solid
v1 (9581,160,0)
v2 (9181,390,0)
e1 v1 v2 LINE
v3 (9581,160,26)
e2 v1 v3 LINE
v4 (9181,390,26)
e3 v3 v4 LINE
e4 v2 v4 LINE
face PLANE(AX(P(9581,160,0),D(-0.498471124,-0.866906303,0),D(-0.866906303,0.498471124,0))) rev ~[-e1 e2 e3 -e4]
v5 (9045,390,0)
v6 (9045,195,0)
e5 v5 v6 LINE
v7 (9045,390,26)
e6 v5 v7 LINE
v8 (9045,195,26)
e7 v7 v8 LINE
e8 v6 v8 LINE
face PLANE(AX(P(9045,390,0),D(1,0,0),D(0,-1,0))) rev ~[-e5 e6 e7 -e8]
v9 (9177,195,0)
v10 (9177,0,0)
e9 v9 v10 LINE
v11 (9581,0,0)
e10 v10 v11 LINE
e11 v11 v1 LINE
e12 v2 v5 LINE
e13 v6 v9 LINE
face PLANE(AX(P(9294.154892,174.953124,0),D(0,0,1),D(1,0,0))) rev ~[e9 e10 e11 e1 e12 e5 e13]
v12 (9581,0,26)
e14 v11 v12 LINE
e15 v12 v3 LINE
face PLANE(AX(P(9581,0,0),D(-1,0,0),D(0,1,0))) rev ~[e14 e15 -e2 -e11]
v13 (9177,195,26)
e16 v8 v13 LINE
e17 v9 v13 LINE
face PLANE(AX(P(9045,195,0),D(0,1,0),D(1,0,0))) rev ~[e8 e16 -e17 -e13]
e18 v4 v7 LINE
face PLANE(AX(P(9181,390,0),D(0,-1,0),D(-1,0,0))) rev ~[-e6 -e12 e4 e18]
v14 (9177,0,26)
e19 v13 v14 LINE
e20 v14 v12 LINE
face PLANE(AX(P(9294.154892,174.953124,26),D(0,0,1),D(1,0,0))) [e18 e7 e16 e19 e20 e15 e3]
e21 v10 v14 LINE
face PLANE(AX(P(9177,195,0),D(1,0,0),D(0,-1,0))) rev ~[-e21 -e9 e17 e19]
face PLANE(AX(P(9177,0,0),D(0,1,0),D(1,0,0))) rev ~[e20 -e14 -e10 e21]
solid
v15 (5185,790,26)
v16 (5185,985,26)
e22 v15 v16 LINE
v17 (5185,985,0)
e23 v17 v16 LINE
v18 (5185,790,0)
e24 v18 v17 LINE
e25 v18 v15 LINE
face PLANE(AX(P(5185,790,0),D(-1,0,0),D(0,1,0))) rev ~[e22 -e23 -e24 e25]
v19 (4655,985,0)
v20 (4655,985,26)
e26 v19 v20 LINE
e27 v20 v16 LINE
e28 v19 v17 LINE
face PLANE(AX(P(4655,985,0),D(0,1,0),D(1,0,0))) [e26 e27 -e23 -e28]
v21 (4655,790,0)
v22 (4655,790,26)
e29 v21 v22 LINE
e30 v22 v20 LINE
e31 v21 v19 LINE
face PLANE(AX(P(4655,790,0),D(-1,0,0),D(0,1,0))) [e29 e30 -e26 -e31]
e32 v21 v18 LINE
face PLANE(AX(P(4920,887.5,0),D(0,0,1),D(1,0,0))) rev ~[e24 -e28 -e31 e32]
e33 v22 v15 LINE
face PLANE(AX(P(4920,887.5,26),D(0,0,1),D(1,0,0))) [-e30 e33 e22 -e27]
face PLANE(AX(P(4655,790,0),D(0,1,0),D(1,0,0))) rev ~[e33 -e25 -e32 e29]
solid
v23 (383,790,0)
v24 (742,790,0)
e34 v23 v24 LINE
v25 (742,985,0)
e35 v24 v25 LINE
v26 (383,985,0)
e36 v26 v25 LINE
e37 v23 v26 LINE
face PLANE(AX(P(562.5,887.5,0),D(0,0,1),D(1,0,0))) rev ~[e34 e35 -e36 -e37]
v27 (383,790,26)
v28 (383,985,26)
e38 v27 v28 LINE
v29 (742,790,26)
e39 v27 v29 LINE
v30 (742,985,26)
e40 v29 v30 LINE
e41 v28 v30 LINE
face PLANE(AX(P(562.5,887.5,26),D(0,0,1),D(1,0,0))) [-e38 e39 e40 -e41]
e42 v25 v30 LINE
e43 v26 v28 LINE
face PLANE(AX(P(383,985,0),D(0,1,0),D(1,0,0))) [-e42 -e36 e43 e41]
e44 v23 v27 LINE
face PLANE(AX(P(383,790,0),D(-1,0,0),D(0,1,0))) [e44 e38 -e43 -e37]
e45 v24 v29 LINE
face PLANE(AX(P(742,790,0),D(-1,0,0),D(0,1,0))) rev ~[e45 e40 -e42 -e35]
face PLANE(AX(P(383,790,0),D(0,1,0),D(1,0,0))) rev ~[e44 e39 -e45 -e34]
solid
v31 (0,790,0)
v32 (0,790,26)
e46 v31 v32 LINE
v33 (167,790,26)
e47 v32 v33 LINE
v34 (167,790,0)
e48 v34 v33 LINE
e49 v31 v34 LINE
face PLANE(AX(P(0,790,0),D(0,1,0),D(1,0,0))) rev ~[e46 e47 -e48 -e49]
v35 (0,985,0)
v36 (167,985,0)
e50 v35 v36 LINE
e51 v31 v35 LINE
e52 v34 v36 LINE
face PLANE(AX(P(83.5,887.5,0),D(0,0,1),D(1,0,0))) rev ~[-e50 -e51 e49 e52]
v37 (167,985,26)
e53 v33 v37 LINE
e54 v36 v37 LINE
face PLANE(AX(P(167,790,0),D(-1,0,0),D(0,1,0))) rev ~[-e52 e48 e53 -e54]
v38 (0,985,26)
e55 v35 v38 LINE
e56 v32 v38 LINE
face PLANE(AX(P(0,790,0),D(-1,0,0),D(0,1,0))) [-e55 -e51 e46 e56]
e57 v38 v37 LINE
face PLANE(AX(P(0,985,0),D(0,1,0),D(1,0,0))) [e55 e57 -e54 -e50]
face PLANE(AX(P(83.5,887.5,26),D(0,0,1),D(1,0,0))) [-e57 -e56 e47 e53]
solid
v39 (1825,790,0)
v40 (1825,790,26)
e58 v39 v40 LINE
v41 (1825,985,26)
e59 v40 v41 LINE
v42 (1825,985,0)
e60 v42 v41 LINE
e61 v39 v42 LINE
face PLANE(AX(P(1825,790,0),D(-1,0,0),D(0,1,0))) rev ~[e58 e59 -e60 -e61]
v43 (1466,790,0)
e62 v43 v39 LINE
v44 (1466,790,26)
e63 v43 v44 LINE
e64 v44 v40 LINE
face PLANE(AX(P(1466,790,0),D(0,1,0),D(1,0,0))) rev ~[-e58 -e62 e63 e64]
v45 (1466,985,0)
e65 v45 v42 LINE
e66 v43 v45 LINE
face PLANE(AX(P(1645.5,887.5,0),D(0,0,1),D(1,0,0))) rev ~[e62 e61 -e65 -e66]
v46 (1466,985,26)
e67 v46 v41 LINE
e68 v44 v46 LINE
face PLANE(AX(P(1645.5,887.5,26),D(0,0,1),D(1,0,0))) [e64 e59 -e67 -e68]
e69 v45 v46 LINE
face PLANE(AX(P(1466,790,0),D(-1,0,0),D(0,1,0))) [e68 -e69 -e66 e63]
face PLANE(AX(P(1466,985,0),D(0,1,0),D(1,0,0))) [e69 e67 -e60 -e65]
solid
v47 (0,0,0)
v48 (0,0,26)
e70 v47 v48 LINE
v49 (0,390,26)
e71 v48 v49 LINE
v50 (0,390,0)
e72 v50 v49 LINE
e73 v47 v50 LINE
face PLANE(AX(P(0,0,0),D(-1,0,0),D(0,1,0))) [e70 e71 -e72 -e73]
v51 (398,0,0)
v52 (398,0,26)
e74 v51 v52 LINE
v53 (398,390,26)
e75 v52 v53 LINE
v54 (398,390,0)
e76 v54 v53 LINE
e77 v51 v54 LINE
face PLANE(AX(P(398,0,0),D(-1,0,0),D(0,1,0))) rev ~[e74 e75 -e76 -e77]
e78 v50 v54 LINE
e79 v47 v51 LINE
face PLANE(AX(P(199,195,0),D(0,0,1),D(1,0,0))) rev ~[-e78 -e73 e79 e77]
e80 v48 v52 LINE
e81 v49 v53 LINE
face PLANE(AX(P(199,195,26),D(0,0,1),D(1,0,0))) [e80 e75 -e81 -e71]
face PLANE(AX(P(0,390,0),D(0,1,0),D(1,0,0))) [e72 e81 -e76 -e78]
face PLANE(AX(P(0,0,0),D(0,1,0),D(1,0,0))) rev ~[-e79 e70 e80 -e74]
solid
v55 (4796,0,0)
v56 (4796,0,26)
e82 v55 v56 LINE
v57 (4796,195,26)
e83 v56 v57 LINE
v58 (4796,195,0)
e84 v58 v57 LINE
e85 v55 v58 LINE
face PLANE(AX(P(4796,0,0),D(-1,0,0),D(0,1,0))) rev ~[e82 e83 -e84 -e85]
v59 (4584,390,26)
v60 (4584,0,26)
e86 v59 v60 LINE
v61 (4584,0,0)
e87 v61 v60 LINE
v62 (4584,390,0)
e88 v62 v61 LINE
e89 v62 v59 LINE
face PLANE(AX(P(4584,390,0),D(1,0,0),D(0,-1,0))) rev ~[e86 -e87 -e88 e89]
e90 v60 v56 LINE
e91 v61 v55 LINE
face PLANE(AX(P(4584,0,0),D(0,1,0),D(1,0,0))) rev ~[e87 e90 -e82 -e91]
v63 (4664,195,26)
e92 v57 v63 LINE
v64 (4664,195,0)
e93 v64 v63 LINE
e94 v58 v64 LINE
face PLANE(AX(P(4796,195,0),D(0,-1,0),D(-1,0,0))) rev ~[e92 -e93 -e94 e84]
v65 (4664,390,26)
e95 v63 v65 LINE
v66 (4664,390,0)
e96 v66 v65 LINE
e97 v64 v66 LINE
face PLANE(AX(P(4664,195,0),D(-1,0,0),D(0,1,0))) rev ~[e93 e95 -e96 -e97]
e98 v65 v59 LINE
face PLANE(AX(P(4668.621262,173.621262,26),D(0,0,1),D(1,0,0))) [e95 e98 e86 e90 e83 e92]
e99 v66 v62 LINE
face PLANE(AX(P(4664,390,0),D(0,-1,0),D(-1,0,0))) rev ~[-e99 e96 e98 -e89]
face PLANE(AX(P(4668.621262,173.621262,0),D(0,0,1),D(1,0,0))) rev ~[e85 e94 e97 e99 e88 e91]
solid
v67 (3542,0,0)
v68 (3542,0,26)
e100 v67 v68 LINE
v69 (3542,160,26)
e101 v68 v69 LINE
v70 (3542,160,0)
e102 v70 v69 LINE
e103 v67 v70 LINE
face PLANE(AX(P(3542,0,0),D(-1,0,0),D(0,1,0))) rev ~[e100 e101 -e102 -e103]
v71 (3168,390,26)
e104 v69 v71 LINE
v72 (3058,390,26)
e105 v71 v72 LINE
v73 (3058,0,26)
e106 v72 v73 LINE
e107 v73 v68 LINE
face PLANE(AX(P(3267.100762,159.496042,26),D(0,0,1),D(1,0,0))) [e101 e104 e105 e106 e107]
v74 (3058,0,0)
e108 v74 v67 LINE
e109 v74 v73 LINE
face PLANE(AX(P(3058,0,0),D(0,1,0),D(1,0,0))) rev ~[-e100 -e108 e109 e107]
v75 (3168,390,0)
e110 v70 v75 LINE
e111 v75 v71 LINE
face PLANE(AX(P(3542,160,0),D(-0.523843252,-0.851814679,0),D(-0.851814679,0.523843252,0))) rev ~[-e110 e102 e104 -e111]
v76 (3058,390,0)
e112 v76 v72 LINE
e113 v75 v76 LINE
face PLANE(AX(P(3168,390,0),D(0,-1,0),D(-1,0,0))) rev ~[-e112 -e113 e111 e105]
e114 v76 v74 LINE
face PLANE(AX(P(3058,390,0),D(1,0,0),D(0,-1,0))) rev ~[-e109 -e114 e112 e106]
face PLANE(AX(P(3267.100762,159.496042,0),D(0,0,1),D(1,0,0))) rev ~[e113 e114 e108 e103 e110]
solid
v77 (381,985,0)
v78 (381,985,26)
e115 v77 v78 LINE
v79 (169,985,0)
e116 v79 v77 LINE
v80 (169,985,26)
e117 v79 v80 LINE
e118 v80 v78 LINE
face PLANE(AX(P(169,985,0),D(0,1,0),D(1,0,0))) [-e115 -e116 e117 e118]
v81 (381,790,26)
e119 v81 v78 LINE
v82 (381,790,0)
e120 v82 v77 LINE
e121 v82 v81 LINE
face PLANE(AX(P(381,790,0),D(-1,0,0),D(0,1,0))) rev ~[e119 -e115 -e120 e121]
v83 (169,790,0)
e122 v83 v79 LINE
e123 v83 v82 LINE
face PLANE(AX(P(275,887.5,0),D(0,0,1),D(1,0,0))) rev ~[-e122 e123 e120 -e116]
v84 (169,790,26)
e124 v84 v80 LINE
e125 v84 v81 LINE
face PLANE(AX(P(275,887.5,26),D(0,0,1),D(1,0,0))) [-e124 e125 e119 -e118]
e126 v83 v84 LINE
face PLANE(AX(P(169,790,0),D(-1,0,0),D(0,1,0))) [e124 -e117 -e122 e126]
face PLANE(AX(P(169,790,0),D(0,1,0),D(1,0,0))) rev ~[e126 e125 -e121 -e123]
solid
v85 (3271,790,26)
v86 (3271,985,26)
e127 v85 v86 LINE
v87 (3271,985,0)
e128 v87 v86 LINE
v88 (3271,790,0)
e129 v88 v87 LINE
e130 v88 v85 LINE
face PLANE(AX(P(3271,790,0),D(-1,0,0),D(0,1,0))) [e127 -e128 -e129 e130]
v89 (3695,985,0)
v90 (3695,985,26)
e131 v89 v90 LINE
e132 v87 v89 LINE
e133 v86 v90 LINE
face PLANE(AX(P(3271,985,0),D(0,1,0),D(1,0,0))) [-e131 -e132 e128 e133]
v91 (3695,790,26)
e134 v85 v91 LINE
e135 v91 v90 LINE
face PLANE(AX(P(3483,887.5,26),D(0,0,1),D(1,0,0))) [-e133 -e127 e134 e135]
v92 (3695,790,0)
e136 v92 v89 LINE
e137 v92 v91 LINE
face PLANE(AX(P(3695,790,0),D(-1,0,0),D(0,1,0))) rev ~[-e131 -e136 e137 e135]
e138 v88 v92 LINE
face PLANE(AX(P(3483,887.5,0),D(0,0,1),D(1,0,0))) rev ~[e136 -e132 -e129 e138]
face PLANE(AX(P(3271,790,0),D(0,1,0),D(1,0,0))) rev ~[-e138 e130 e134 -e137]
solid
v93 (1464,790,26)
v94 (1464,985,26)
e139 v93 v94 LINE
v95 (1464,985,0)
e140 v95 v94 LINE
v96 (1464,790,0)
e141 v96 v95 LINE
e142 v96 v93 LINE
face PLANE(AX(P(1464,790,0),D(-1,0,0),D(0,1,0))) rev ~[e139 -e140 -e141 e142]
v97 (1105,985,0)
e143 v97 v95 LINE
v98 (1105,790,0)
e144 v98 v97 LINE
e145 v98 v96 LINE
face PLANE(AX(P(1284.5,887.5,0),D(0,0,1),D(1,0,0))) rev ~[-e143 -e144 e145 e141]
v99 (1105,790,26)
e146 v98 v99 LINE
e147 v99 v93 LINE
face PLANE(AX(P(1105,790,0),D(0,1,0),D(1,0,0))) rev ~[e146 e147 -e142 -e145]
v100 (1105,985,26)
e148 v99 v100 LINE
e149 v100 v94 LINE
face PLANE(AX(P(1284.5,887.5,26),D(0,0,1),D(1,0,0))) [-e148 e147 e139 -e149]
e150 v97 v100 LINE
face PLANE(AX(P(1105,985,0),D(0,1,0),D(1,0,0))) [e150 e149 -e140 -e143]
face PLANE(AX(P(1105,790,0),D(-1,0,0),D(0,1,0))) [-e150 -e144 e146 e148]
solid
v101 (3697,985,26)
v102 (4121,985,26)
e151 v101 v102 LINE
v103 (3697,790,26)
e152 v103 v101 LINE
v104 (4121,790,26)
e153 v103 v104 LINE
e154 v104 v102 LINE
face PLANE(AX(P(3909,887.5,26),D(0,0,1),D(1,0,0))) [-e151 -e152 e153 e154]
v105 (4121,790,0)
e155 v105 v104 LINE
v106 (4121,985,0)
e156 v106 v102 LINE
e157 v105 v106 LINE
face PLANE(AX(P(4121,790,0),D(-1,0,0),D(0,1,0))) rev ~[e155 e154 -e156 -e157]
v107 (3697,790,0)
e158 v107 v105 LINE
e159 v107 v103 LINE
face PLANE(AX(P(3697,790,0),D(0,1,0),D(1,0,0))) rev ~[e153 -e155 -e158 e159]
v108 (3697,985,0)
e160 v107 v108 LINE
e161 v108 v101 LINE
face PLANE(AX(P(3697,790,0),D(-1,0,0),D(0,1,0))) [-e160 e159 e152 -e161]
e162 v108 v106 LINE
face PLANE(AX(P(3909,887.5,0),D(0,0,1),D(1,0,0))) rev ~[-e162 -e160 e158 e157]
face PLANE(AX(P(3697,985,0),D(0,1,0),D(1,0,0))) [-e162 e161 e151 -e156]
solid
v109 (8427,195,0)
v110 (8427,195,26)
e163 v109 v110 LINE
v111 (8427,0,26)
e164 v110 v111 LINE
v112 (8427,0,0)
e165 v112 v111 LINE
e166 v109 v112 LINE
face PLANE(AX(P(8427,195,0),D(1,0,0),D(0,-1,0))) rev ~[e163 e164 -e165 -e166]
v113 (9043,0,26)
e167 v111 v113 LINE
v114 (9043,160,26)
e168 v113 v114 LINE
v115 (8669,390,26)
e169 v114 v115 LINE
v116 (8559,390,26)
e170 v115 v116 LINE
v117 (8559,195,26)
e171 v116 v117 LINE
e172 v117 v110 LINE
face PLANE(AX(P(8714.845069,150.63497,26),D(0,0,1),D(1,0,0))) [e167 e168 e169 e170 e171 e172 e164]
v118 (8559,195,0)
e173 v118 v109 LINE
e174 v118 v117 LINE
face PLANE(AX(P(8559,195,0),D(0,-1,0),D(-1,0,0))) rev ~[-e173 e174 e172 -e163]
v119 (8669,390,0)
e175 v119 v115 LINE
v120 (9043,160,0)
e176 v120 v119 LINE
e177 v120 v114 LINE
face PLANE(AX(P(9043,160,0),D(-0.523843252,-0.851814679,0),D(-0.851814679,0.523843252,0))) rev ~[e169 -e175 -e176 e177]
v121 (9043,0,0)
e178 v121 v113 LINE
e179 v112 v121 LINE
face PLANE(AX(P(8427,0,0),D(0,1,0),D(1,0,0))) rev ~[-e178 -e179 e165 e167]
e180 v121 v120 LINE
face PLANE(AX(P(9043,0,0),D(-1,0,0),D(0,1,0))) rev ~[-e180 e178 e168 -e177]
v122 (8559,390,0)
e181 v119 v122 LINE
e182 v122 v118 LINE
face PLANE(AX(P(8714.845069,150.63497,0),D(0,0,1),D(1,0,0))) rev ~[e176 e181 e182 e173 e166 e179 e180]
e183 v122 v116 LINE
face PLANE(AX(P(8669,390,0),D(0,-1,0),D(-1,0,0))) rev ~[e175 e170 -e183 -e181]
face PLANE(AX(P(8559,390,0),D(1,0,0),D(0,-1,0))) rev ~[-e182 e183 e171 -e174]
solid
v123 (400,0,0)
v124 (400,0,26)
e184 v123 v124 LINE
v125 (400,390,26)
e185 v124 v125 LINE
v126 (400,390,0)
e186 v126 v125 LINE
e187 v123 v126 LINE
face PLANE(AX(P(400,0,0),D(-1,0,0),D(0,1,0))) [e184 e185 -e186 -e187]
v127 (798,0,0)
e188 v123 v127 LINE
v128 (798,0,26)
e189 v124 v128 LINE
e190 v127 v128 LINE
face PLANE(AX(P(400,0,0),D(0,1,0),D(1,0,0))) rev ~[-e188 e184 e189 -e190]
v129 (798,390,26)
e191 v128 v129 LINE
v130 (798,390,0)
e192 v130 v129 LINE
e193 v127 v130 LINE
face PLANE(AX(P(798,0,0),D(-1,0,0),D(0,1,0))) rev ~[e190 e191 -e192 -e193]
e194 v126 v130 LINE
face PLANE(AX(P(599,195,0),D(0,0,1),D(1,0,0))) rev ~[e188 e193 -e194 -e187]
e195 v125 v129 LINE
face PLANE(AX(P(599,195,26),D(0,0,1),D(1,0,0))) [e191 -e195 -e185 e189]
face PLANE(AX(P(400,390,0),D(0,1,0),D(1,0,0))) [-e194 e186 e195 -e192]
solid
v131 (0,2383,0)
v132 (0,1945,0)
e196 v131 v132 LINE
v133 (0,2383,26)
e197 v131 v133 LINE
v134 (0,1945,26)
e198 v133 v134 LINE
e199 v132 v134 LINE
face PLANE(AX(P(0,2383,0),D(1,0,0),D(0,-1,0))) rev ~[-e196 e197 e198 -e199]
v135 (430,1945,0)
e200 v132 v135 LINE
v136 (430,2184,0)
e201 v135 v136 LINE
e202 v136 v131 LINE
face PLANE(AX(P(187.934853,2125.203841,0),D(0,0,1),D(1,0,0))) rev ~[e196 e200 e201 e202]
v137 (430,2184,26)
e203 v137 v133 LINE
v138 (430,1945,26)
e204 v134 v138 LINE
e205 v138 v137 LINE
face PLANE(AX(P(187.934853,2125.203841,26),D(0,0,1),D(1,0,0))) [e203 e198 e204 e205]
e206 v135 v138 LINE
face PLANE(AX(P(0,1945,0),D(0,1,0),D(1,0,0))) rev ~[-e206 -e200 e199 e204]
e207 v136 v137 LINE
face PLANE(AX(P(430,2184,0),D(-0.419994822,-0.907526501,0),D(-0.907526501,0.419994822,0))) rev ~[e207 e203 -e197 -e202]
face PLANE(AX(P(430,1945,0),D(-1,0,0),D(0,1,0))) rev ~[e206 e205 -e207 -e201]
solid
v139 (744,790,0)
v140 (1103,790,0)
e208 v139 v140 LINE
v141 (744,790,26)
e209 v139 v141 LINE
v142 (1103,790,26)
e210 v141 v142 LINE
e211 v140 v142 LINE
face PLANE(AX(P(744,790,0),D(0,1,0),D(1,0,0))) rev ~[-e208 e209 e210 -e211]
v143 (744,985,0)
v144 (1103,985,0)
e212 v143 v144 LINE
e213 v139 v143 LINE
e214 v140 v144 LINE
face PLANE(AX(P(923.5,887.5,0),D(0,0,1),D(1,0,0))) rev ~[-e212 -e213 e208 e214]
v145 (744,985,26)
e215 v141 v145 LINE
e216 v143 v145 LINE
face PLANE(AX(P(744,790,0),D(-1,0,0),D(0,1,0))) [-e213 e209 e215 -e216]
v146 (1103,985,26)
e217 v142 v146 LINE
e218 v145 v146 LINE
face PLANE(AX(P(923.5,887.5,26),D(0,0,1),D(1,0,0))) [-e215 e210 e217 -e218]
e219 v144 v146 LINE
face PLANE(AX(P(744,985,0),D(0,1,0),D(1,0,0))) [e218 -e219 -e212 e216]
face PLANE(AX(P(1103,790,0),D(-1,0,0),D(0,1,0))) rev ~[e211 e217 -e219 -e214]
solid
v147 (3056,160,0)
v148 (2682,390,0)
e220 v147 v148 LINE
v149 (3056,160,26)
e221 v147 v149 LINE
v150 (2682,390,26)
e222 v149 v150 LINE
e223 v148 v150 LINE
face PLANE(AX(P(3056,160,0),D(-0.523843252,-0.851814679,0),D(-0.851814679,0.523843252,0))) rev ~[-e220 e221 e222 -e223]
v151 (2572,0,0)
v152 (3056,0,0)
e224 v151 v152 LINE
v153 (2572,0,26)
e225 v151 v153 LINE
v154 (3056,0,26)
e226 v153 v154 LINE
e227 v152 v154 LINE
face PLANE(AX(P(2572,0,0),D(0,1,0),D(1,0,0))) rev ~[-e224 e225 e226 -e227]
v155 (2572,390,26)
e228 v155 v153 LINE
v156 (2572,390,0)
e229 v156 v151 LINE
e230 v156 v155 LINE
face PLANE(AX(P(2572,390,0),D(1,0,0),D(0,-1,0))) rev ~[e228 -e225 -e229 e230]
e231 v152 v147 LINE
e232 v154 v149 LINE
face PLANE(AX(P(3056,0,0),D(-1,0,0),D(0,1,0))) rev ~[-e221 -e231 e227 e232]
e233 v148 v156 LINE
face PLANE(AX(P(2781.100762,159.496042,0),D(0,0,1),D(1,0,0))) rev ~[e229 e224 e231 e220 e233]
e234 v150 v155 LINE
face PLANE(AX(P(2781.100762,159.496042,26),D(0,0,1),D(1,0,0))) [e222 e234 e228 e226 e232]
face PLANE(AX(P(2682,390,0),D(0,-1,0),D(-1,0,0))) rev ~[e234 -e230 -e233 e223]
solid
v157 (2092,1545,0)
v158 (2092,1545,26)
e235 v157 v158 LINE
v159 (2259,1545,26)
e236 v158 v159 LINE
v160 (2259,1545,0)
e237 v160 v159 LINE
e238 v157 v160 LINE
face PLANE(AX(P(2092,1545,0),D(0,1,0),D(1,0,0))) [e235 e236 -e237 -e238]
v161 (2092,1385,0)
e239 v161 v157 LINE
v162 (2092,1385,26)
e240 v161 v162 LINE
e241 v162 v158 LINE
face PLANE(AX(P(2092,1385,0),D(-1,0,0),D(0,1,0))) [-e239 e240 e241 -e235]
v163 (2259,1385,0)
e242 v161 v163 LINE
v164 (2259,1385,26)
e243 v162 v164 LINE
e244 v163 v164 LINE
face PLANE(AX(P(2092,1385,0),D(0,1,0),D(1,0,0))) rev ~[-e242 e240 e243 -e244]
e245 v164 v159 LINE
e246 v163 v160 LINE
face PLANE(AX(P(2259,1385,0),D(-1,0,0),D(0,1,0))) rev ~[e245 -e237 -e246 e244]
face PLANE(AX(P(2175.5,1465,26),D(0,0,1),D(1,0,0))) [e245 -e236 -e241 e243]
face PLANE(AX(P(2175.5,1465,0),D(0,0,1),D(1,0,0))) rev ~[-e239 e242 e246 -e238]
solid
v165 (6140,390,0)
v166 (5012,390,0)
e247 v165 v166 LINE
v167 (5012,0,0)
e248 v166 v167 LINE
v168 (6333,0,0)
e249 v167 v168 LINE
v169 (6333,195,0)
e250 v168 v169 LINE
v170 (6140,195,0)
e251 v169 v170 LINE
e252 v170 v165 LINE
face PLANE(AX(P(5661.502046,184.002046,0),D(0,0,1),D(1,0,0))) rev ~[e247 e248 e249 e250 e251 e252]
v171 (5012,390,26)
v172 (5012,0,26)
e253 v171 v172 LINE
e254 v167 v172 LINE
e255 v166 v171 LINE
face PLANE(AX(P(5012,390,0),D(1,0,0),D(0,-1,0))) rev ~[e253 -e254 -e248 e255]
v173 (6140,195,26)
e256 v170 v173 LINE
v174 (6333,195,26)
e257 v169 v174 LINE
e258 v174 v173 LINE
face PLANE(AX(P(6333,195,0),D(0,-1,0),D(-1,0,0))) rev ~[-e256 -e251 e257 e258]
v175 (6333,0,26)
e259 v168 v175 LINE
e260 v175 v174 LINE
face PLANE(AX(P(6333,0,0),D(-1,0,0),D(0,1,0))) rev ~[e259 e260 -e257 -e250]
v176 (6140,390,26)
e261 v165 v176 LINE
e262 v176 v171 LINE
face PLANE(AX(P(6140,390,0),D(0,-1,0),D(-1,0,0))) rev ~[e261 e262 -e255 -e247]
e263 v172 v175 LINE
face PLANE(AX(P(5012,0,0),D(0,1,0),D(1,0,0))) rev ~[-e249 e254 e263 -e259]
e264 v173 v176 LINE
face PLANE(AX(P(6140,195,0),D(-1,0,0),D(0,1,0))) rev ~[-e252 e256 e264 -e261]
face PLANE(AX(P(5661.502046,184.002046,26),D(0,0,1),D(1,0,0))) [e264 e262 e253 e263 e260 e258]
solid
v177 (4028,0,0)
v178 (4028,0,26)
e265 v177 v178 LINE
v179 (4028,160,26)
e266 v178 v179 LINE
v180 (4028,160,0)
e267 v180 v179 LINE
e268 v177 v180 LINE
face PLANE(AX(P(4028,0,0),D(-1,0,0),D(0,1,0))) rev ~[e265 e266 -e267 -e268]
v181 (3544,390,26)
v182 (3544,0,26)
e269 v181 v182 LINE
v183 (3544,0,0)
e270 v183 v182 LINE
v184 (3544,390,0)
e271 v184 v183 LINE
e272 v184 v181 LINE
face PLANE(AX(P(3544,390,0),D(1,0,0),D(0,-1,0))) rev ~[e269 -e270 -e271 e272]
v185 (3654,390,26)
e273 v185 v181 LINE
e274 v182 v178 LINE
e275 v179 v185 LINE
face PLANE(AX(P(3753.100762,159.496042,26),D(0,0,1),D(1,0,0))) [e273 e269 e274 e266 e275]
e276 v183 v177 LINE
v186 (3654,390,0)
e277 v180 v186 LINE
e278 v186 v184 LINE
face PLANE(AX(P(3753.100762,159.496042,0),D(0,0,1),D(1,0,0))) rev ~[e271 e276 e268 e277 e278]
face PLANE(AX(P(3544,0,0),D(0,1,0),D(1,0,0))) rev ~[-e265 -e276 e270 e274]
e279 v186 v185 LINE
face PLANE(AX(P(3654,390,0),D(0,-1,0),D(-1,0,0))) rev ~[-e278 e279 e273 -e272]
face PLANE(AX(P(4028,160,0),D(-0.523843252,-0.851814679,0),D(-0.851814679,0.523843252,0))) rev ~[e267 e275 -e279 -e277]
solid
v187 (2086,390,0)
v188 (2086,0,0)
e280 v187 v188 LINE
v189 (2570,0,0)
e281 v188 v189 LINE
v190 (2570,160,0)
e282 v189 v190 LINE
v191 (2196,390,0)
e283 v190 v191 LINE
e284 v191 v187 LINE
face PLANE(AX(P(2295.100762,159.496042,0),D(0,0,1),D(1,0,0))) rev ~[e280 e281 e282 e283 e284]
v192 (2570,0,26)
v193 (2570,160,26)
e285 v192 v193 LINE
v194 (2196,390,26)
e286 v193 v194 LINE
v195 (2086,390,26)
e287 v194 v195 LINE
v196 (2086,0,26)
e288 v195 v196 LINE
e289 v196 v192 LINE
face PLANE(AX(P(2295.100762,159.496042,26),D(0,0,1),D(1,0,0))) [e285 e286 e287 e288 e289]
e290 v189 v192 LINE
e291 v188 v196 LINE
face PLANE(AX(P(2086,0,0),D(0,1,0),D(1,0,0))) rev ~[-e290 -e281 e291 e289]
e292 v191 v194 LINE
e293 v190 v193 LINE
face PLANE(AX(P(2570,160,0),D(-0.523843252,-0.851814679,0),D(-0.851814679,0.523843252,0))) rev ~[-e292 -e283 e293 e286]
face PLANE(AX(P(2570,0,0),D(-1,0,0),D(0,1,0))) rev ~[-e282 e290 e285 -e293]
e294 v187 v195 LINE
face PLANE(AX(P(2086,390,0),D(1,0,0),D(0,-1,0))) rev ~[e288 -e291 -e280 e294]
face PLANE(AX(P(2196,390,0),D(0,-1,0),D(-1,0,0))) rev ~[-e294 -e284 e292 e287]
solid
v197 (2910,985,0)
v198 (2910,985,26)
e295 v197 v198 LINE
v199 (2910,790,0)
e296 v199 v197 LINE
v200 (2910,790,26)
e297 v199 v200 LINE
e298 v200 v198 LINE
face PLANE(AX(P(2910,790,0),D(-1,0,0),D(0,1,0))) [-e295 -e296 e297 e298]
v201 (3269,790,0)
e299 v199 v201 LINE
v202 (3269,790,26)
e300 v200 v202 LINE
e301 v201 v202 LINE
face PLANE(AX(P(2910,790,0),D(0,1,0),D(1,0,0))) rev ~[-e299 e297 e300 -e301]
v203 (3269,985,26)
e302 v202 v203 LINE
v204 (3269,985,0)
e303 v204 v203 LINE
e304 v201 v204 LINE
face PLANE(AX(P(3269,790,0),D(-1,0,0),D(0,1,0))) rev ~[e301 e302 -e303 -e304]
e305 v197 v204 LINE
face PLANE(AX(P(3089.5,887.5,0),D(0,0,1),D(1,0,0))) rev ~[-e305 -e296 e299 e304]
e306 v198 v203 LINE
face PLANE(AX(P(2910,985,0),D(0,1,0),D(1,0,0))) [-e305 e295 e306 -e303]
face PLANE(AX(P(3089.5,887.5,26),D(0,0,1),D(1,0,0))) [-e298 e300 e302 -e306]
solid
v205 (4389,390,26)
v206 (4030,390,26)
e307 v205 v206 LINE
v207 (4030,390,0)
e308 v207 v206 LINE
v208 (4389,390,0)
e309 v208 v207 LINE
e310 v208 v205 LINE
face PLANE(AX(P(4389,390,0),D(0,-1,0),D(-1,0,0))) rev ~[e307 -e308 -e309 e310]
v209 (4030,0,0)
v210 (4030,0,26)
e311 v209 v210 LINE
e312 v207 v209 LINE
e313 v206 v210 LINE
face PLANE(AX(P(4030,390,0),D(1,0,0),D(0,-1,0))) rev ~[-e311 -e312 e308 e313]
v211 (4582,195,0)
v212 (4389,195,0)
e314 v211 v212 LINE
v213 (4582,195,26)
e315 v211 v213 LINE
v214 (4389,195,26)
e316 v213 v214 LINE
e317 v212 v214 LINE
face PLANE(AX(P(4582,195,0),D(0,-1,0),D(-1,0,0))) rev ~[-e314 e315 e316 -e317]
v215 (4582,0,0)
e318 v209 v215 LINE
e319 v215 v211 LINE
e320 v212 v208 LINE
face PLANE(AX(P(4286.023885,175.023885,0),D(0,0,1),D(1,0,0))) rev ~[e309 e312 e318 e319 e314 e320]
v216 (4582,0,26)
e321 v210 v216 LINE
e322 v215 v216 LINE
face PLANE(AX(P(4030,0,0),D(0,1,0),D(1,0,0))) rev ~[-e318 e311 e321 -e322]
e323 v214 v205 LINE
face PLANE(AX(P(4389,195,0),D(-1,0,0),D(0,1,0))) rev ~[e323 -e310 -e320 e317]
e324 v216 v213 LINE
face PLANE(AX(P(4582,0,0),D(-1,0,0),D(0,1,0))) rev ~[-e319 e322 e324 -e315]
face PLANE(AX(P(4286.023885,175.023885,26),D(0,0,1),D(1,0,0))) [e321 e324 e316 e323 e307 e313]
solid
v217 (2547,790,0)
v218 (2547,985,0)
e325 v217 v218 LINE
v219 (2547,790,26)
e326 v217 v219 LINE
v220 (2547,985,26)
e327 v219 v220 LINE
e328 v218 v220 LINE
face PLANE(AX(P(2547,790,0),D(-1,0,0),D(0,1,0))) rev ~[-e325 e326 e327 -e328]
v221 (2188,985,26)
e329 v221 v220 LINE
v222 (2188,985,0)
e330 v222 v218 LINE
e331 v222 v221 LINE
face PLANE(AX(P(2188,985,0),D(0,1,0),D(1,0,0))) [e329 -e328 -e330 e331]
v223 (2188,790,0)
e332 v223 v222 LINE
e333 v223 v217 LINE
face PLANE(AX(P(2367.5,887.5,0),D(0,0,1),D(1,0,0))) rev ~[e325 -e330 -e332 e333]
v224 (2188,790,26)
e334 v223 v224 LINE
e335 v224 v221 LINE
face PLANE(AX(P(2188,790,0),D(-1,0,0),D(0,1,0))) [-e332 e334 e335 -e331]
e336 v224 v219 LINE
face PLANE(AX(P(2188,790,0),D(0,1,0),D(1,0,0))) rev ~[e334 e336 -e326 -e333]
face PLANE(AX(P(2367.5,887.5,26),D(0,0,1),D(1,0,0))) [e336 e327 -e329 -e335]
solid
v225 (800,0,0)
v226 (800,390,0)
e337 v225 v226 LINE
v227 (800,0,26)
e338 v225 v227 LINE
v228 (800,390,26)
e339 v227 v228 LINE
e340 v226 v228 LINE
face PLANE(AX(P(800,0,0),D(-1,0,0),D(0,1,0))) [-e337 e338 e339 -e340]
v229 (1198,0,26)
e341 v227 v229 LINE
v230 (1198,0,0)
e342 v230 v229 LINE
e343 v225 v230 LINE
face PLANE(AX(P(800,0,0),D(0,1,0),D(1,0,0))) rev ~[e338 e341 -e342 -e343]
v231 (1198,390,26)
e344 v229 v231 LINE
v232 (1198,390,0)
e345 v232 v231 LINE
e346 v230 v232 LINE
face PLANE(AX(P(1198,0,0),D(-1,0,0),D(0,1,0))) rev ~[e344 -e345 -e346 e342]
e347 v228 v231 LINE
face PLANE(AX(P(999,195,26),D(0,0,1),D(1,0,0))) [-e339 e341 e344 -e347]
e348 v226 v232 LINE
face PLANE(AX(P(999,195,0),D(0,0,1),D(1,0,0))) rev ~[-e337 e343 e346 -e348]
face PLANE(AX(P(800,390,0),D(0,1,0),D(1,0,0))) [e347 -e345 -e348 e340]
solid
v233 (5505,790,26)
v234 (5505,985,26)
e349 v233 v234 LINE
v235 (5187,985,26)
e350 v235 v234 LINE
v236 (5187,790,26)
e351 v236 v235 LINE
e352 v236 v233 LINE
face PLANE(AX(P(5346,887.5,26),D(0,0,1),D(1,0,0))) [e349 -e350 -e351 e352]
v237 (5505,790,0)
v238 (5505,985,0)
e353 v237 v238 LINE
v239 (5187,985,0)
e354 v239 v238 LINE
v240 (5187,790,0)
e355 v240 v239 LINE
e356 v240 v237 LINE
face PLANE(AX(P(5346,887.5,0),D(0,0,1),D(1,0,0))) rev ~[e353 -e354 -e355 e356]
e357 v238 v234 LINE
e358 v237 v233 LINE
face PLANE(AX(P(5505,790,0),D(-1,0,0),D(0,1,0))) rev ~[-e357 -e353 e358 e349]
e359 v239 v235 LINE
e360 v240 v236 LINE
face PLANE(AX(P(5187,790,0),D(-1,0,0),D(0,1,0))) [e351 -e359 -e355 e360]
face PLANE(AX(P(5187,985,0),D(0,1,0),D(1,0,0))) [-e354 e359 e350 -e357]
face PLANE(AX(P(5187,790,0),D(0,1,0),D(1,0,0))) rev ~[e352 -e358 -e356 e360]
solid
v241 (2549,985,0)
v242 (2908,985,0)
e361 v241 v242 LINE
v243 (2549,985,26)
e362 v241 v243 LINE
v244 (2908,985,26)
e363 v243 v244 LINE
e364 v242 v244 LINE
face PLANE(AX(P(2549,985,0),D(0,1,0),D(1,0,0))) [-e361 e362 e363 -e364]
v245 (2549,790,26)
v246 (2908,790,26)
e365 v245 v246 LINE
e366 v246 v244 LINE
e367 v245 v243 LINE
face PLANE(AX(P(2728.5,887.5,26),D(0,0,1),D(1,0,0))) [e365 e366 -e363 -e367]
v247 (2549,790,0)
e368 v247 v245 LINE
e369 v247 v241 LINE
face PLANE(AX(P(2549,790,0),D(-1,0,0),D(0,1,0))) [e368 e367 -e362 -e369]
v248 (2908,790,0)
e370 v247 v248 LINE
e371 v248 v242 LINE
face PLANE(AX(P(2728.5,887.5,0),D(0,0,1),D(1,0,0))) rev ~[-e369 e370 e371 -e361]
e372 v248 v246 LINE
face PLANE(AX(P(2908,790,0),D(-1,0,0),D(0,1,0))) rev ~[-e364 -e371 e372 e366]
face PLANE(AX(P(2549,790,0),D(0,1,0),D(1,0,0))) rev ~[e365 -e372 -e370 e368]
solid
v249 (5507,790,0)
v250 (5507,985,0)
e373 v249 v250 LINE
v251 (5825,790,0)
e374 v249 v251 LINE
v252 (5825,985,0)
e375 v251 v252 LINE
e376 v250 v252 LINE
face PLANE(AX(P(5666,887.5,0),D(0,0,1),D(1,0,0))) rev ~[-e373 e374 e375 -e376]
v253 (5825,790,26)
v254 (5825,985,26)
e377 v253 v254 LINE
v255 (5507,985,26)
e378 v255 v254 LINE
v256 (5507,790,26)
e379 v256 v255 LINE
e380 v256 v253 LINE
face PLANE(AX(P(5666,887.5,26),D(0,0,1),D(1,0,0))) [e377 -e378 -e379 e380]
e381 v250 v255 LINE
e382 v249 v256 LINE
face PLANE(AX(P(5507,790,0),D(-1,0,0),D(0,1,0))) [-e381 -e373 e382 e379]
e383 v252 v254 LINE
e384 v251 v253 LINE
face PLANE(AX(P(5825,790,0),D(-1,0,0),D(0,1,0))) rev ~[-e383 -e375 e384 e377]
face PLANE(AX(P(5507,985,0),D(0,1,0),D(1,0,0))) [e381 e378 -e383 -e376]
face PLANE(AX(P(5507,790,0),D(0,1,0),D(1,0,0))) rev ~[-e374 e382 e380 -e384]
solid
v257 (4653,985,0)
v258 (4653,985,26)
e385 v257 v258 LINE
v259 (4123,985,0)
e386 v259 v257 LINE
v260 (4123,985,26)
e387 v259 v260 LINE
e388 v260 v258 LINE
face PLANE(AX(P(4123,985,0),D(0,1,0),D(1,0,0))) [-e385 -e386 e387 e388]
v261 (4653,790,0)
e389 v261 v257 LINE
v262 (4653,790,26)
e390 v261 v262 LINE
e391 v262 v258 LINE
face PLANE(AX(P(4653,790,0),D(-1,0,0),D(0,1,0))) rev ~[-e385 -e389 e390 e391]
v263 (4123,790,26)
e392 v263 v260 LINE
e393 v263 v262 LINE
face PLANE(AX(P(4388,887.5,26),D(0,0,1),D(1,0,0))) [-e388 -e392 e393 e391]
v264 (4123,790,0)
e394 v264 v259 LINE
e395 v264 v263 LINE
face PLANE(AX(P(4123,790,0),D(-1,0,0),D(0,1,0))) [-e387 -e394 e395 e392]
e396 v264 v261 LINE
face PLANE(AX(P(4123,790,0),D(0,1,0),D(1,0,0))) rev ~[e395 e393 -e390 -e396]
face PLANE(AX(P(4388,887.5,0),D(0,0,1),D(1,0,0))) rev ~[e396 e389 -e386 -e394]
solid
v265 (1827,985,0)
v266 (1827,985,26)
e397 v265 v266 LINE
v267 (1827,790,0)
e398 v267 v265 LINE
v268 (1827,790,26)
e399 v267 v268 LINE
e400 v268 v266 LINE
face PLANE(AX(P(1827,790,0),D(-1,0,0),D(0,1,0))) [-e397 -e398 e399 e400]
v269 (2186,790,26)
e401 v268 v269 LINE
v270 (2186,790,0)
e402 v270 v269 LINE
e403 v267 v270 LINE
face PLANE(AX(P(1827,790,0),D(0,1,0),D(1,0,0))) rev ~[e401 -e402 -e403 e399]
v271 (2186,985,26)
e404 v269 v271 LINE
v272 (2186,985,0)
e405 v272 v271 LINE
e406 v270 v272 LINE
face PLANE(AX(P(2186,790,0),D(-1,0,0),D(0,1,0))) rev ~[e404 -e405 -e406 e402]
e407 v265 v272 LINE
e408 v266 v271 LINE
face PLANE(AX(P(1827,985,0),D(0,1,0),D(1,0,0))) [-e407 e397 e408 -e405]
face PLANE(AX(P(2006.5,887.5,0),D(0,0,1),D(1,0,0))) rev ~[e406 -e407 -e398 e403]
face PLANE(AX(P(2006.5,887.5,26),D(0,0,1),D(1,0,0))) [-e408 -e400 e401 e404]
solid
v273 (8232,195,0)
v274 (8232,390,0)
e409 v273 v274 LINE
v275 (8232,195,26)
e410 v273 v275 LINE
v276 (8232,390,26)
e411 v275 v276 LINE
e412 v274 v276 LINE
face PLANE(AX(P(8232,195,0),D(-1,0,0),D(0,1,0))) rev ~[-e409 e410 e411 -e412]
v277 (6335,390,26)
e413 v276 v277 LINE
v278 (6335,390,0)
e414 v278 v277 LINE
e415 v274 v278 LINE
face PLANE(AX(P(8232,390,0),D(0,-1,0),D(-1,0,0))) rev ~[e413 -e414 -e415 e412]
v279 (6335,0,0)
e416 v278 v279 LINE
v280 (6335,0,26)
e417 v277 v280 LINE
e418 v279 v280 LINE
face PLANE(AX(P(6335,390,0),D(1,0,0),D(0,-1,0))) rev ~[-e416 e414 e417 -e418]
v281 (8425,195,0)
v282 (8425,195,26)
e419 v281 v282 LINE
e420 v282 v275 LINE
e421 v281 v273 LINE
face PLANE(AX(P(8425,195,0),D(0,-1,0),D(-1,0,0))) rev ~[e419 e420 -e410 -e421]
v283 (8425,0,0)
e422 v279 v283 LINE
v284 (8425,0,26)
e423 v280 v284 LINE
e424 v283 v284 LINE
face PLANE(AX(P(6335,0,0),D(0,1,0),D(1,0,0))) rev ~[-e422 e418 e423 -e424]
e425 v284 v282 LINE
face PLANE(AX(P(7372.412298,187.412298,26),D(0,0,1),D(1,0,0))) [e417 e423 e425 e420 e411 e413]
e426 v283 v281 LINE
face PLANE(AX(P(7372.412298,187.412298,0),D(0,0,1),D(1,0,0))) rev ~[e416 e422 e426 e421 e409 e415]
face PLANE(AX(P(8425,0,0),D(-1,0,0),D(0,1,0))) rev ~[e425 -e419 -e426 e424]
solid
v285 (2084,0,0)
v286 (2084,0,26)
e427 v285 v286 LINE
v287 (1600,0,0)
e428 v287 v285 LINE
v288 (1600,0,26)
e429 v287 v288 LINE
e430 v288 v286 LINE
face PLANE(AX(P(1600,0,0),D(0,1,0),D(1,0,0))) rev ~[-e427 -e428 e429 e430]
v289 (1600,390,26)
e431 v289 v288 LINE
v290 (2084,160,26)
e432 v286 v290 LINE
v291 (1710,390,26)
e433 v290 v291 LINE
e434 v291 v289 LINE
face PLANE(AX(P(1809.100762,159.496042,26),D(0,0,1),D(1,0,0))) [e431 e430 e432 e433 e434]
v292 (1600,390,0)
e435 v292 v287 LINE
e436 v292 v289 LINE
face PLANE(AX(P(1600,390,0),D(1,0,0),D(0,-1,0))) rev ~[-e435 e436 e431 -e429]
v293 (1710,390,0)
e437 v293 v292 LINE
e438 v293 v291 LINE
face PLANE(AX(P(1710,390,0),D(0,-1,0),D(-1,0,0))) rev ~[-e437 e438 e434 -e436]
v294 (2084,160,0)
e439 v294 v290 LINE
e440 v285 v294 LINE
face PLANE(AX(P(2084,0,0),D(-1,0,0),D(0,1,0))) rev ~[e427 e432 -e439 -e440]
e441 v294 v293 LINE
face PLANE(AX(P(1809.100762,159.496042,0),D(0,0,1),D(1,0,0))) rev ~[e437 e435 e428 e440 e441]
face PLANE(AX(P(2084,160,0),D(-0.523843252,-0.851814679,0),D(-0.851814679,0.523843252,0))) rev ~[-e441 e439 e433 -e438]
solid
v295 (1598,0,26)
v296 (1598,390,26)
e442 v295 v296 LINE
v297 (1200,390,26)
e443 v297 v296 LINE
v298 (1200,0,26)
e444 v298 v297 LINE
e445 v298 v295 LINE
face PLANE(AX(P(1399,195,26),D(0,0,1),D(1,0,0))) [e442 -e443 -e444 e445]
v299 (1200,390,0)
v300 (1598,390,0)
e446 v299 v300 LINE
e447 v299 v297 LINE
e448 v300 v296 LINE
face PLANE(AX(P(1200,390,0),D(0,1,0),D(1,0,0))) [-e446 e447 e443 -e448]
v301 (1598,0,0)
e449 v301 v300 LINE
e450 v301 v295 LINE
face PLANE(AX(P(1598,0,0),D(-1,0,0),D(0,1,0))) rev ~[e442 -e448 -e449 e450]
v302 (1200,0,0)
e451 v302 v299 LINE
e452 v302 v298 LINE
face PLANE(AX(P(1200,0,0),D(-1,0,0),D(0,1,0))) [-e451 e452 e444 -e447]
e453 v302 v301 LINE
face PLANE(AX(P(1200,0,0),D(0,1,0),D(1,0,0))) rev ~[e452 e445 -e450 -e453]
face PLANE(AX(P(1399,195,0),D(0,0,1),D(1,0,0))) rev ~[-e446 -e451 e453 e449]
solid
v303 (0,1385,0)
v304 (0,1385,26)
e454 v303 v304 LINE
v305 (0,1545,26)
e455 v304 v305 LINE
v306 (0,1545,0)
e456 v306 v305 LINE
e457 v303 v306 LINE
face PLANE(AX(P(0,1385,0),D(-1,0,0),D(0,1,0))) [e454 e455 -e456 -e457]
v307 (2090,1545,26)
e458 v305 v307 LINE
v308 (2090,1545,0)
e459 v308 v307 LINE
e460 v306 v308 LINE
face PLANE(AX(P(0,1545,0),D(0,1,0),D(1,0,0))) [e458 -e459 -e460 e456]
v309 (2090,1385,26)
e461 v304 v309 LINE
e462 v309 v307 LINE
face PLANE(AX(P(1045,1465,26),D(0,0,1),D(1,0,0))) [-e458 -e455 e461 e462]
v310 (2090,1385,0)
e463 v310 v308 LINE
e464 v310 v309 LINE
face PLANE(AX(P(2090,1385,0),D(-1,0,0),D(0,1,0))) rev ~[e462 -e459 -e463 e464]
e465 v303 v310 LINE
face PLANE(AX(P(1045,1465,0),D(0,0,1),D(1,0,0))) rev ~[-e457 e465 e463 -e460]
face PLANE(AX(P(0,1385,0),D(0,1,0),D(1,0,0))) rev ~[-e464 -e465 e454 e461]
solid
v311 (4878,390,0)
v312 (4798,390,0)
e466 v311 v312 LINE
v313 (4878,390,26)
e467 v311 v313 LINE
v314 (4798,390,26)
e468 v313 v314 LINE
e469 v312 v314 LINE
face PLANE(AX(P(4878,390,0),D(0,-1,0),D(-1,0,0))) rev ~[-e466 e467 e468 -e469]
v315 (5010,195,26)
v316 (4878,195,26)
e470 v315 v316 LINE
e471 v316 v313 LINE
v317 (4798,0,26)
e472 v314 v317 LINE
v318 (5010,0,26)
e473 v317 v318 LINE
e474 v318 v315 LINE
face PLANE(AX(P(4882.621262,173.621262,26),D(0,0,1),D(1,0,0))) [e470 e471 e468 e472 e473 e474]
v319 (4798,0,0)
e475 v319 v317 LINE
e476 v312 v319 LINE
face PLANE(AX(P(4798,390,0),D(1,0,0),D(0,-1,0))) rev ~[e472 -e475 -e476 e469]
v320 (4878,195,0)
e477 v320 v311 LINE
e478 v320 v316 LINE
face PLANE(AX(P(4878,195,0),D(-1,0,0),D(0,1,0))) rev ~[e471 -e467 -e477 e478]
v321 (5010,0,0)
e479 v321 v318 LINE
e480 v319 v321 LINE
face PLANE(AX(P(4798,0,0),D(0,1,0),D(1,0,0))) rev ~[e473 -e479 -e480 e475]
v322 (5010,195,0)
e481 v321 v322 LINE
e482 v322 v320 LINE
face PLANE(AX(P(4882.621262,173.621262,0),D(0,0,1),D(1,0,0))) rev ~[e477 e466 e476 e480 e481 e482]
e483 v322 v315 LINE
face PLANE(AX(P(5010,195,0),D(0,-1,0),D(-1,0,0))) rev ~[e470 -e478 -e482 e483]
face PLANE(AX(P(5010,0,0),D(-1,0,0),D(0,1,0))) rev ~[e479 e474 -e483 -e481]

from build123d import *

# Parameters (mm, degrees)
F0_W     = 398
F0_H     = 390
F0_W_2   = 167
F0_H_2   = 195
F0_W_3   = 212
F0_W_4   = 359
F0_W_5   = 424
F0_W_6   = 530
F0_W_7   = 318
F0_W_8   = 2090
F0_H_3   = 160
F1_DEPTH = 26


with BuildPart() as f1:
    # F0 (on Top) → F1 (new body)
    with BuildSketch(Plane.XY):
        with Locations((199, 195)):
            Rectangle(F0_W, F0_H)
        with Locations((599, 195)):
            Rectangle(F0_W, F0_H)
        with Locations((999, 195)):
            Rectangle(F0_W, F0_H)
        with Locations((1399, 195)):
            Rectangle(F0_W, F0_H)
        Polygon((1710, 390), (1600, 390), (1600, 0), (2084, 0), (2084, 160), align=None)
        Polygon((2196, 390), (2086, 390), (2086, 0), (2570, 0), (2570, 160), align=None)
        Polygon((2682, 390), (2572, 390), (2572, 0), (3056, 0), (3056, 160), align=None)
        Polygon((3168, 390), (3058, 390), (3058, 0), (3542, 0), (3542, 160), align=None)
        Polygon((3654, 390), (3544, 390), (3544, 0), (4028, 0), (4028, 160), align=None)
        with Locations((83.5, 887.5)):
            Rectangle(F0_W_2, F0_H_2)
        with Locations((275, 887.5)):
            Rectangle(F0_W_3, F0_H_2)
        with Locations((562.5, 887.5)):
            Rectangle(F0_W_4, F0_H_2)
        with Locations((923.5, 887.5)):
            Rectangle(F0_W_4, F0_H_2)
        with Locations((1284.5, 887.5)):
            Rectangle(F0_W_4, F0_H_2)
        with Locations((1645.5, 887.5)):
            Rectangle(F0_W_4, F0_H_2)
        with Locations((2006.5, 887.5)):
            Rectangle(F0_W_4, F0_H_2)
        with Locations((2367.5, 887.5)):
            Rectangle(F0_W_4, F0_H_2)
        with Locations((2728.5, 887.5)):
            Rectangle(F0_W_4, F0_H_2)
        with Locations((3089.5, 887.5)):
            Rectangle(F0_W_4, F0_H_2)
        with Locations((3483, 887.5)):
            Rectangle(F0_W_5, F0_H_2)
        with Locations((3909, 887.5)):
            Rectangle(F0_W_5, F0_H_2)
        with Locations((4388, 887.5)):
            Rectangle(F0_W_6, F0_H_2)
        with Locations((4920, 887.5)):
            Rectangle(F0_W_6, F0_H_2)
        with Locations((5346, 887.5)):
            Rectangle(F0_W_7, F0_H_2)
        with Locations((5666, 887.5)):
            Rectangle(F0_W_7, F0_H_2)
        Polygon((4030, 390), (4030, 0), (4582, 0), (4582, 195), (4389, 195), (4389, 390), align=None)
        Polygon((4584, 390), (4584, 0), (4796, 0), (4796, 195), (4664, 195), (4664, 390), align=None)
        Polygon((4878, 390), (4798, 390), (4798, 0), (5010, 0), (5010, 195), (4878, 195), align=None)
        Polygon((5012, 390), (5012, 0), (6333, 0), (6333, 195), (6140, 195), (6140, 390), align=None)
        Polygon((6335, 390), (6335, 0), (8425, 0), (8425, 195), (8232, 195), (8232, 390), align=None)
        with Locations((1045, 1465)):
            Rectangle(F0_W_8, F0_H_3)
        Polygon((8427, 195), (8427, 0), (9043, 0), (9043, 160), (8669, 390), (8559, 390), (8559, 195), align=None)
        Polygon((9177, 195), (9177, 0), (9581, 0), (9581, 160), (9181, 390), (9045, 390), (9045, 195), align=None)
        Polygon((0, 2383), (0, 1945), (430, 1945), (430, 2184), align=None)
        with Locations((2175.5, 1465)):
            Rectangle(F0_W_2, F0_H_3)
    extrude(amount=F1_DEPTH)


solid = f1.part
